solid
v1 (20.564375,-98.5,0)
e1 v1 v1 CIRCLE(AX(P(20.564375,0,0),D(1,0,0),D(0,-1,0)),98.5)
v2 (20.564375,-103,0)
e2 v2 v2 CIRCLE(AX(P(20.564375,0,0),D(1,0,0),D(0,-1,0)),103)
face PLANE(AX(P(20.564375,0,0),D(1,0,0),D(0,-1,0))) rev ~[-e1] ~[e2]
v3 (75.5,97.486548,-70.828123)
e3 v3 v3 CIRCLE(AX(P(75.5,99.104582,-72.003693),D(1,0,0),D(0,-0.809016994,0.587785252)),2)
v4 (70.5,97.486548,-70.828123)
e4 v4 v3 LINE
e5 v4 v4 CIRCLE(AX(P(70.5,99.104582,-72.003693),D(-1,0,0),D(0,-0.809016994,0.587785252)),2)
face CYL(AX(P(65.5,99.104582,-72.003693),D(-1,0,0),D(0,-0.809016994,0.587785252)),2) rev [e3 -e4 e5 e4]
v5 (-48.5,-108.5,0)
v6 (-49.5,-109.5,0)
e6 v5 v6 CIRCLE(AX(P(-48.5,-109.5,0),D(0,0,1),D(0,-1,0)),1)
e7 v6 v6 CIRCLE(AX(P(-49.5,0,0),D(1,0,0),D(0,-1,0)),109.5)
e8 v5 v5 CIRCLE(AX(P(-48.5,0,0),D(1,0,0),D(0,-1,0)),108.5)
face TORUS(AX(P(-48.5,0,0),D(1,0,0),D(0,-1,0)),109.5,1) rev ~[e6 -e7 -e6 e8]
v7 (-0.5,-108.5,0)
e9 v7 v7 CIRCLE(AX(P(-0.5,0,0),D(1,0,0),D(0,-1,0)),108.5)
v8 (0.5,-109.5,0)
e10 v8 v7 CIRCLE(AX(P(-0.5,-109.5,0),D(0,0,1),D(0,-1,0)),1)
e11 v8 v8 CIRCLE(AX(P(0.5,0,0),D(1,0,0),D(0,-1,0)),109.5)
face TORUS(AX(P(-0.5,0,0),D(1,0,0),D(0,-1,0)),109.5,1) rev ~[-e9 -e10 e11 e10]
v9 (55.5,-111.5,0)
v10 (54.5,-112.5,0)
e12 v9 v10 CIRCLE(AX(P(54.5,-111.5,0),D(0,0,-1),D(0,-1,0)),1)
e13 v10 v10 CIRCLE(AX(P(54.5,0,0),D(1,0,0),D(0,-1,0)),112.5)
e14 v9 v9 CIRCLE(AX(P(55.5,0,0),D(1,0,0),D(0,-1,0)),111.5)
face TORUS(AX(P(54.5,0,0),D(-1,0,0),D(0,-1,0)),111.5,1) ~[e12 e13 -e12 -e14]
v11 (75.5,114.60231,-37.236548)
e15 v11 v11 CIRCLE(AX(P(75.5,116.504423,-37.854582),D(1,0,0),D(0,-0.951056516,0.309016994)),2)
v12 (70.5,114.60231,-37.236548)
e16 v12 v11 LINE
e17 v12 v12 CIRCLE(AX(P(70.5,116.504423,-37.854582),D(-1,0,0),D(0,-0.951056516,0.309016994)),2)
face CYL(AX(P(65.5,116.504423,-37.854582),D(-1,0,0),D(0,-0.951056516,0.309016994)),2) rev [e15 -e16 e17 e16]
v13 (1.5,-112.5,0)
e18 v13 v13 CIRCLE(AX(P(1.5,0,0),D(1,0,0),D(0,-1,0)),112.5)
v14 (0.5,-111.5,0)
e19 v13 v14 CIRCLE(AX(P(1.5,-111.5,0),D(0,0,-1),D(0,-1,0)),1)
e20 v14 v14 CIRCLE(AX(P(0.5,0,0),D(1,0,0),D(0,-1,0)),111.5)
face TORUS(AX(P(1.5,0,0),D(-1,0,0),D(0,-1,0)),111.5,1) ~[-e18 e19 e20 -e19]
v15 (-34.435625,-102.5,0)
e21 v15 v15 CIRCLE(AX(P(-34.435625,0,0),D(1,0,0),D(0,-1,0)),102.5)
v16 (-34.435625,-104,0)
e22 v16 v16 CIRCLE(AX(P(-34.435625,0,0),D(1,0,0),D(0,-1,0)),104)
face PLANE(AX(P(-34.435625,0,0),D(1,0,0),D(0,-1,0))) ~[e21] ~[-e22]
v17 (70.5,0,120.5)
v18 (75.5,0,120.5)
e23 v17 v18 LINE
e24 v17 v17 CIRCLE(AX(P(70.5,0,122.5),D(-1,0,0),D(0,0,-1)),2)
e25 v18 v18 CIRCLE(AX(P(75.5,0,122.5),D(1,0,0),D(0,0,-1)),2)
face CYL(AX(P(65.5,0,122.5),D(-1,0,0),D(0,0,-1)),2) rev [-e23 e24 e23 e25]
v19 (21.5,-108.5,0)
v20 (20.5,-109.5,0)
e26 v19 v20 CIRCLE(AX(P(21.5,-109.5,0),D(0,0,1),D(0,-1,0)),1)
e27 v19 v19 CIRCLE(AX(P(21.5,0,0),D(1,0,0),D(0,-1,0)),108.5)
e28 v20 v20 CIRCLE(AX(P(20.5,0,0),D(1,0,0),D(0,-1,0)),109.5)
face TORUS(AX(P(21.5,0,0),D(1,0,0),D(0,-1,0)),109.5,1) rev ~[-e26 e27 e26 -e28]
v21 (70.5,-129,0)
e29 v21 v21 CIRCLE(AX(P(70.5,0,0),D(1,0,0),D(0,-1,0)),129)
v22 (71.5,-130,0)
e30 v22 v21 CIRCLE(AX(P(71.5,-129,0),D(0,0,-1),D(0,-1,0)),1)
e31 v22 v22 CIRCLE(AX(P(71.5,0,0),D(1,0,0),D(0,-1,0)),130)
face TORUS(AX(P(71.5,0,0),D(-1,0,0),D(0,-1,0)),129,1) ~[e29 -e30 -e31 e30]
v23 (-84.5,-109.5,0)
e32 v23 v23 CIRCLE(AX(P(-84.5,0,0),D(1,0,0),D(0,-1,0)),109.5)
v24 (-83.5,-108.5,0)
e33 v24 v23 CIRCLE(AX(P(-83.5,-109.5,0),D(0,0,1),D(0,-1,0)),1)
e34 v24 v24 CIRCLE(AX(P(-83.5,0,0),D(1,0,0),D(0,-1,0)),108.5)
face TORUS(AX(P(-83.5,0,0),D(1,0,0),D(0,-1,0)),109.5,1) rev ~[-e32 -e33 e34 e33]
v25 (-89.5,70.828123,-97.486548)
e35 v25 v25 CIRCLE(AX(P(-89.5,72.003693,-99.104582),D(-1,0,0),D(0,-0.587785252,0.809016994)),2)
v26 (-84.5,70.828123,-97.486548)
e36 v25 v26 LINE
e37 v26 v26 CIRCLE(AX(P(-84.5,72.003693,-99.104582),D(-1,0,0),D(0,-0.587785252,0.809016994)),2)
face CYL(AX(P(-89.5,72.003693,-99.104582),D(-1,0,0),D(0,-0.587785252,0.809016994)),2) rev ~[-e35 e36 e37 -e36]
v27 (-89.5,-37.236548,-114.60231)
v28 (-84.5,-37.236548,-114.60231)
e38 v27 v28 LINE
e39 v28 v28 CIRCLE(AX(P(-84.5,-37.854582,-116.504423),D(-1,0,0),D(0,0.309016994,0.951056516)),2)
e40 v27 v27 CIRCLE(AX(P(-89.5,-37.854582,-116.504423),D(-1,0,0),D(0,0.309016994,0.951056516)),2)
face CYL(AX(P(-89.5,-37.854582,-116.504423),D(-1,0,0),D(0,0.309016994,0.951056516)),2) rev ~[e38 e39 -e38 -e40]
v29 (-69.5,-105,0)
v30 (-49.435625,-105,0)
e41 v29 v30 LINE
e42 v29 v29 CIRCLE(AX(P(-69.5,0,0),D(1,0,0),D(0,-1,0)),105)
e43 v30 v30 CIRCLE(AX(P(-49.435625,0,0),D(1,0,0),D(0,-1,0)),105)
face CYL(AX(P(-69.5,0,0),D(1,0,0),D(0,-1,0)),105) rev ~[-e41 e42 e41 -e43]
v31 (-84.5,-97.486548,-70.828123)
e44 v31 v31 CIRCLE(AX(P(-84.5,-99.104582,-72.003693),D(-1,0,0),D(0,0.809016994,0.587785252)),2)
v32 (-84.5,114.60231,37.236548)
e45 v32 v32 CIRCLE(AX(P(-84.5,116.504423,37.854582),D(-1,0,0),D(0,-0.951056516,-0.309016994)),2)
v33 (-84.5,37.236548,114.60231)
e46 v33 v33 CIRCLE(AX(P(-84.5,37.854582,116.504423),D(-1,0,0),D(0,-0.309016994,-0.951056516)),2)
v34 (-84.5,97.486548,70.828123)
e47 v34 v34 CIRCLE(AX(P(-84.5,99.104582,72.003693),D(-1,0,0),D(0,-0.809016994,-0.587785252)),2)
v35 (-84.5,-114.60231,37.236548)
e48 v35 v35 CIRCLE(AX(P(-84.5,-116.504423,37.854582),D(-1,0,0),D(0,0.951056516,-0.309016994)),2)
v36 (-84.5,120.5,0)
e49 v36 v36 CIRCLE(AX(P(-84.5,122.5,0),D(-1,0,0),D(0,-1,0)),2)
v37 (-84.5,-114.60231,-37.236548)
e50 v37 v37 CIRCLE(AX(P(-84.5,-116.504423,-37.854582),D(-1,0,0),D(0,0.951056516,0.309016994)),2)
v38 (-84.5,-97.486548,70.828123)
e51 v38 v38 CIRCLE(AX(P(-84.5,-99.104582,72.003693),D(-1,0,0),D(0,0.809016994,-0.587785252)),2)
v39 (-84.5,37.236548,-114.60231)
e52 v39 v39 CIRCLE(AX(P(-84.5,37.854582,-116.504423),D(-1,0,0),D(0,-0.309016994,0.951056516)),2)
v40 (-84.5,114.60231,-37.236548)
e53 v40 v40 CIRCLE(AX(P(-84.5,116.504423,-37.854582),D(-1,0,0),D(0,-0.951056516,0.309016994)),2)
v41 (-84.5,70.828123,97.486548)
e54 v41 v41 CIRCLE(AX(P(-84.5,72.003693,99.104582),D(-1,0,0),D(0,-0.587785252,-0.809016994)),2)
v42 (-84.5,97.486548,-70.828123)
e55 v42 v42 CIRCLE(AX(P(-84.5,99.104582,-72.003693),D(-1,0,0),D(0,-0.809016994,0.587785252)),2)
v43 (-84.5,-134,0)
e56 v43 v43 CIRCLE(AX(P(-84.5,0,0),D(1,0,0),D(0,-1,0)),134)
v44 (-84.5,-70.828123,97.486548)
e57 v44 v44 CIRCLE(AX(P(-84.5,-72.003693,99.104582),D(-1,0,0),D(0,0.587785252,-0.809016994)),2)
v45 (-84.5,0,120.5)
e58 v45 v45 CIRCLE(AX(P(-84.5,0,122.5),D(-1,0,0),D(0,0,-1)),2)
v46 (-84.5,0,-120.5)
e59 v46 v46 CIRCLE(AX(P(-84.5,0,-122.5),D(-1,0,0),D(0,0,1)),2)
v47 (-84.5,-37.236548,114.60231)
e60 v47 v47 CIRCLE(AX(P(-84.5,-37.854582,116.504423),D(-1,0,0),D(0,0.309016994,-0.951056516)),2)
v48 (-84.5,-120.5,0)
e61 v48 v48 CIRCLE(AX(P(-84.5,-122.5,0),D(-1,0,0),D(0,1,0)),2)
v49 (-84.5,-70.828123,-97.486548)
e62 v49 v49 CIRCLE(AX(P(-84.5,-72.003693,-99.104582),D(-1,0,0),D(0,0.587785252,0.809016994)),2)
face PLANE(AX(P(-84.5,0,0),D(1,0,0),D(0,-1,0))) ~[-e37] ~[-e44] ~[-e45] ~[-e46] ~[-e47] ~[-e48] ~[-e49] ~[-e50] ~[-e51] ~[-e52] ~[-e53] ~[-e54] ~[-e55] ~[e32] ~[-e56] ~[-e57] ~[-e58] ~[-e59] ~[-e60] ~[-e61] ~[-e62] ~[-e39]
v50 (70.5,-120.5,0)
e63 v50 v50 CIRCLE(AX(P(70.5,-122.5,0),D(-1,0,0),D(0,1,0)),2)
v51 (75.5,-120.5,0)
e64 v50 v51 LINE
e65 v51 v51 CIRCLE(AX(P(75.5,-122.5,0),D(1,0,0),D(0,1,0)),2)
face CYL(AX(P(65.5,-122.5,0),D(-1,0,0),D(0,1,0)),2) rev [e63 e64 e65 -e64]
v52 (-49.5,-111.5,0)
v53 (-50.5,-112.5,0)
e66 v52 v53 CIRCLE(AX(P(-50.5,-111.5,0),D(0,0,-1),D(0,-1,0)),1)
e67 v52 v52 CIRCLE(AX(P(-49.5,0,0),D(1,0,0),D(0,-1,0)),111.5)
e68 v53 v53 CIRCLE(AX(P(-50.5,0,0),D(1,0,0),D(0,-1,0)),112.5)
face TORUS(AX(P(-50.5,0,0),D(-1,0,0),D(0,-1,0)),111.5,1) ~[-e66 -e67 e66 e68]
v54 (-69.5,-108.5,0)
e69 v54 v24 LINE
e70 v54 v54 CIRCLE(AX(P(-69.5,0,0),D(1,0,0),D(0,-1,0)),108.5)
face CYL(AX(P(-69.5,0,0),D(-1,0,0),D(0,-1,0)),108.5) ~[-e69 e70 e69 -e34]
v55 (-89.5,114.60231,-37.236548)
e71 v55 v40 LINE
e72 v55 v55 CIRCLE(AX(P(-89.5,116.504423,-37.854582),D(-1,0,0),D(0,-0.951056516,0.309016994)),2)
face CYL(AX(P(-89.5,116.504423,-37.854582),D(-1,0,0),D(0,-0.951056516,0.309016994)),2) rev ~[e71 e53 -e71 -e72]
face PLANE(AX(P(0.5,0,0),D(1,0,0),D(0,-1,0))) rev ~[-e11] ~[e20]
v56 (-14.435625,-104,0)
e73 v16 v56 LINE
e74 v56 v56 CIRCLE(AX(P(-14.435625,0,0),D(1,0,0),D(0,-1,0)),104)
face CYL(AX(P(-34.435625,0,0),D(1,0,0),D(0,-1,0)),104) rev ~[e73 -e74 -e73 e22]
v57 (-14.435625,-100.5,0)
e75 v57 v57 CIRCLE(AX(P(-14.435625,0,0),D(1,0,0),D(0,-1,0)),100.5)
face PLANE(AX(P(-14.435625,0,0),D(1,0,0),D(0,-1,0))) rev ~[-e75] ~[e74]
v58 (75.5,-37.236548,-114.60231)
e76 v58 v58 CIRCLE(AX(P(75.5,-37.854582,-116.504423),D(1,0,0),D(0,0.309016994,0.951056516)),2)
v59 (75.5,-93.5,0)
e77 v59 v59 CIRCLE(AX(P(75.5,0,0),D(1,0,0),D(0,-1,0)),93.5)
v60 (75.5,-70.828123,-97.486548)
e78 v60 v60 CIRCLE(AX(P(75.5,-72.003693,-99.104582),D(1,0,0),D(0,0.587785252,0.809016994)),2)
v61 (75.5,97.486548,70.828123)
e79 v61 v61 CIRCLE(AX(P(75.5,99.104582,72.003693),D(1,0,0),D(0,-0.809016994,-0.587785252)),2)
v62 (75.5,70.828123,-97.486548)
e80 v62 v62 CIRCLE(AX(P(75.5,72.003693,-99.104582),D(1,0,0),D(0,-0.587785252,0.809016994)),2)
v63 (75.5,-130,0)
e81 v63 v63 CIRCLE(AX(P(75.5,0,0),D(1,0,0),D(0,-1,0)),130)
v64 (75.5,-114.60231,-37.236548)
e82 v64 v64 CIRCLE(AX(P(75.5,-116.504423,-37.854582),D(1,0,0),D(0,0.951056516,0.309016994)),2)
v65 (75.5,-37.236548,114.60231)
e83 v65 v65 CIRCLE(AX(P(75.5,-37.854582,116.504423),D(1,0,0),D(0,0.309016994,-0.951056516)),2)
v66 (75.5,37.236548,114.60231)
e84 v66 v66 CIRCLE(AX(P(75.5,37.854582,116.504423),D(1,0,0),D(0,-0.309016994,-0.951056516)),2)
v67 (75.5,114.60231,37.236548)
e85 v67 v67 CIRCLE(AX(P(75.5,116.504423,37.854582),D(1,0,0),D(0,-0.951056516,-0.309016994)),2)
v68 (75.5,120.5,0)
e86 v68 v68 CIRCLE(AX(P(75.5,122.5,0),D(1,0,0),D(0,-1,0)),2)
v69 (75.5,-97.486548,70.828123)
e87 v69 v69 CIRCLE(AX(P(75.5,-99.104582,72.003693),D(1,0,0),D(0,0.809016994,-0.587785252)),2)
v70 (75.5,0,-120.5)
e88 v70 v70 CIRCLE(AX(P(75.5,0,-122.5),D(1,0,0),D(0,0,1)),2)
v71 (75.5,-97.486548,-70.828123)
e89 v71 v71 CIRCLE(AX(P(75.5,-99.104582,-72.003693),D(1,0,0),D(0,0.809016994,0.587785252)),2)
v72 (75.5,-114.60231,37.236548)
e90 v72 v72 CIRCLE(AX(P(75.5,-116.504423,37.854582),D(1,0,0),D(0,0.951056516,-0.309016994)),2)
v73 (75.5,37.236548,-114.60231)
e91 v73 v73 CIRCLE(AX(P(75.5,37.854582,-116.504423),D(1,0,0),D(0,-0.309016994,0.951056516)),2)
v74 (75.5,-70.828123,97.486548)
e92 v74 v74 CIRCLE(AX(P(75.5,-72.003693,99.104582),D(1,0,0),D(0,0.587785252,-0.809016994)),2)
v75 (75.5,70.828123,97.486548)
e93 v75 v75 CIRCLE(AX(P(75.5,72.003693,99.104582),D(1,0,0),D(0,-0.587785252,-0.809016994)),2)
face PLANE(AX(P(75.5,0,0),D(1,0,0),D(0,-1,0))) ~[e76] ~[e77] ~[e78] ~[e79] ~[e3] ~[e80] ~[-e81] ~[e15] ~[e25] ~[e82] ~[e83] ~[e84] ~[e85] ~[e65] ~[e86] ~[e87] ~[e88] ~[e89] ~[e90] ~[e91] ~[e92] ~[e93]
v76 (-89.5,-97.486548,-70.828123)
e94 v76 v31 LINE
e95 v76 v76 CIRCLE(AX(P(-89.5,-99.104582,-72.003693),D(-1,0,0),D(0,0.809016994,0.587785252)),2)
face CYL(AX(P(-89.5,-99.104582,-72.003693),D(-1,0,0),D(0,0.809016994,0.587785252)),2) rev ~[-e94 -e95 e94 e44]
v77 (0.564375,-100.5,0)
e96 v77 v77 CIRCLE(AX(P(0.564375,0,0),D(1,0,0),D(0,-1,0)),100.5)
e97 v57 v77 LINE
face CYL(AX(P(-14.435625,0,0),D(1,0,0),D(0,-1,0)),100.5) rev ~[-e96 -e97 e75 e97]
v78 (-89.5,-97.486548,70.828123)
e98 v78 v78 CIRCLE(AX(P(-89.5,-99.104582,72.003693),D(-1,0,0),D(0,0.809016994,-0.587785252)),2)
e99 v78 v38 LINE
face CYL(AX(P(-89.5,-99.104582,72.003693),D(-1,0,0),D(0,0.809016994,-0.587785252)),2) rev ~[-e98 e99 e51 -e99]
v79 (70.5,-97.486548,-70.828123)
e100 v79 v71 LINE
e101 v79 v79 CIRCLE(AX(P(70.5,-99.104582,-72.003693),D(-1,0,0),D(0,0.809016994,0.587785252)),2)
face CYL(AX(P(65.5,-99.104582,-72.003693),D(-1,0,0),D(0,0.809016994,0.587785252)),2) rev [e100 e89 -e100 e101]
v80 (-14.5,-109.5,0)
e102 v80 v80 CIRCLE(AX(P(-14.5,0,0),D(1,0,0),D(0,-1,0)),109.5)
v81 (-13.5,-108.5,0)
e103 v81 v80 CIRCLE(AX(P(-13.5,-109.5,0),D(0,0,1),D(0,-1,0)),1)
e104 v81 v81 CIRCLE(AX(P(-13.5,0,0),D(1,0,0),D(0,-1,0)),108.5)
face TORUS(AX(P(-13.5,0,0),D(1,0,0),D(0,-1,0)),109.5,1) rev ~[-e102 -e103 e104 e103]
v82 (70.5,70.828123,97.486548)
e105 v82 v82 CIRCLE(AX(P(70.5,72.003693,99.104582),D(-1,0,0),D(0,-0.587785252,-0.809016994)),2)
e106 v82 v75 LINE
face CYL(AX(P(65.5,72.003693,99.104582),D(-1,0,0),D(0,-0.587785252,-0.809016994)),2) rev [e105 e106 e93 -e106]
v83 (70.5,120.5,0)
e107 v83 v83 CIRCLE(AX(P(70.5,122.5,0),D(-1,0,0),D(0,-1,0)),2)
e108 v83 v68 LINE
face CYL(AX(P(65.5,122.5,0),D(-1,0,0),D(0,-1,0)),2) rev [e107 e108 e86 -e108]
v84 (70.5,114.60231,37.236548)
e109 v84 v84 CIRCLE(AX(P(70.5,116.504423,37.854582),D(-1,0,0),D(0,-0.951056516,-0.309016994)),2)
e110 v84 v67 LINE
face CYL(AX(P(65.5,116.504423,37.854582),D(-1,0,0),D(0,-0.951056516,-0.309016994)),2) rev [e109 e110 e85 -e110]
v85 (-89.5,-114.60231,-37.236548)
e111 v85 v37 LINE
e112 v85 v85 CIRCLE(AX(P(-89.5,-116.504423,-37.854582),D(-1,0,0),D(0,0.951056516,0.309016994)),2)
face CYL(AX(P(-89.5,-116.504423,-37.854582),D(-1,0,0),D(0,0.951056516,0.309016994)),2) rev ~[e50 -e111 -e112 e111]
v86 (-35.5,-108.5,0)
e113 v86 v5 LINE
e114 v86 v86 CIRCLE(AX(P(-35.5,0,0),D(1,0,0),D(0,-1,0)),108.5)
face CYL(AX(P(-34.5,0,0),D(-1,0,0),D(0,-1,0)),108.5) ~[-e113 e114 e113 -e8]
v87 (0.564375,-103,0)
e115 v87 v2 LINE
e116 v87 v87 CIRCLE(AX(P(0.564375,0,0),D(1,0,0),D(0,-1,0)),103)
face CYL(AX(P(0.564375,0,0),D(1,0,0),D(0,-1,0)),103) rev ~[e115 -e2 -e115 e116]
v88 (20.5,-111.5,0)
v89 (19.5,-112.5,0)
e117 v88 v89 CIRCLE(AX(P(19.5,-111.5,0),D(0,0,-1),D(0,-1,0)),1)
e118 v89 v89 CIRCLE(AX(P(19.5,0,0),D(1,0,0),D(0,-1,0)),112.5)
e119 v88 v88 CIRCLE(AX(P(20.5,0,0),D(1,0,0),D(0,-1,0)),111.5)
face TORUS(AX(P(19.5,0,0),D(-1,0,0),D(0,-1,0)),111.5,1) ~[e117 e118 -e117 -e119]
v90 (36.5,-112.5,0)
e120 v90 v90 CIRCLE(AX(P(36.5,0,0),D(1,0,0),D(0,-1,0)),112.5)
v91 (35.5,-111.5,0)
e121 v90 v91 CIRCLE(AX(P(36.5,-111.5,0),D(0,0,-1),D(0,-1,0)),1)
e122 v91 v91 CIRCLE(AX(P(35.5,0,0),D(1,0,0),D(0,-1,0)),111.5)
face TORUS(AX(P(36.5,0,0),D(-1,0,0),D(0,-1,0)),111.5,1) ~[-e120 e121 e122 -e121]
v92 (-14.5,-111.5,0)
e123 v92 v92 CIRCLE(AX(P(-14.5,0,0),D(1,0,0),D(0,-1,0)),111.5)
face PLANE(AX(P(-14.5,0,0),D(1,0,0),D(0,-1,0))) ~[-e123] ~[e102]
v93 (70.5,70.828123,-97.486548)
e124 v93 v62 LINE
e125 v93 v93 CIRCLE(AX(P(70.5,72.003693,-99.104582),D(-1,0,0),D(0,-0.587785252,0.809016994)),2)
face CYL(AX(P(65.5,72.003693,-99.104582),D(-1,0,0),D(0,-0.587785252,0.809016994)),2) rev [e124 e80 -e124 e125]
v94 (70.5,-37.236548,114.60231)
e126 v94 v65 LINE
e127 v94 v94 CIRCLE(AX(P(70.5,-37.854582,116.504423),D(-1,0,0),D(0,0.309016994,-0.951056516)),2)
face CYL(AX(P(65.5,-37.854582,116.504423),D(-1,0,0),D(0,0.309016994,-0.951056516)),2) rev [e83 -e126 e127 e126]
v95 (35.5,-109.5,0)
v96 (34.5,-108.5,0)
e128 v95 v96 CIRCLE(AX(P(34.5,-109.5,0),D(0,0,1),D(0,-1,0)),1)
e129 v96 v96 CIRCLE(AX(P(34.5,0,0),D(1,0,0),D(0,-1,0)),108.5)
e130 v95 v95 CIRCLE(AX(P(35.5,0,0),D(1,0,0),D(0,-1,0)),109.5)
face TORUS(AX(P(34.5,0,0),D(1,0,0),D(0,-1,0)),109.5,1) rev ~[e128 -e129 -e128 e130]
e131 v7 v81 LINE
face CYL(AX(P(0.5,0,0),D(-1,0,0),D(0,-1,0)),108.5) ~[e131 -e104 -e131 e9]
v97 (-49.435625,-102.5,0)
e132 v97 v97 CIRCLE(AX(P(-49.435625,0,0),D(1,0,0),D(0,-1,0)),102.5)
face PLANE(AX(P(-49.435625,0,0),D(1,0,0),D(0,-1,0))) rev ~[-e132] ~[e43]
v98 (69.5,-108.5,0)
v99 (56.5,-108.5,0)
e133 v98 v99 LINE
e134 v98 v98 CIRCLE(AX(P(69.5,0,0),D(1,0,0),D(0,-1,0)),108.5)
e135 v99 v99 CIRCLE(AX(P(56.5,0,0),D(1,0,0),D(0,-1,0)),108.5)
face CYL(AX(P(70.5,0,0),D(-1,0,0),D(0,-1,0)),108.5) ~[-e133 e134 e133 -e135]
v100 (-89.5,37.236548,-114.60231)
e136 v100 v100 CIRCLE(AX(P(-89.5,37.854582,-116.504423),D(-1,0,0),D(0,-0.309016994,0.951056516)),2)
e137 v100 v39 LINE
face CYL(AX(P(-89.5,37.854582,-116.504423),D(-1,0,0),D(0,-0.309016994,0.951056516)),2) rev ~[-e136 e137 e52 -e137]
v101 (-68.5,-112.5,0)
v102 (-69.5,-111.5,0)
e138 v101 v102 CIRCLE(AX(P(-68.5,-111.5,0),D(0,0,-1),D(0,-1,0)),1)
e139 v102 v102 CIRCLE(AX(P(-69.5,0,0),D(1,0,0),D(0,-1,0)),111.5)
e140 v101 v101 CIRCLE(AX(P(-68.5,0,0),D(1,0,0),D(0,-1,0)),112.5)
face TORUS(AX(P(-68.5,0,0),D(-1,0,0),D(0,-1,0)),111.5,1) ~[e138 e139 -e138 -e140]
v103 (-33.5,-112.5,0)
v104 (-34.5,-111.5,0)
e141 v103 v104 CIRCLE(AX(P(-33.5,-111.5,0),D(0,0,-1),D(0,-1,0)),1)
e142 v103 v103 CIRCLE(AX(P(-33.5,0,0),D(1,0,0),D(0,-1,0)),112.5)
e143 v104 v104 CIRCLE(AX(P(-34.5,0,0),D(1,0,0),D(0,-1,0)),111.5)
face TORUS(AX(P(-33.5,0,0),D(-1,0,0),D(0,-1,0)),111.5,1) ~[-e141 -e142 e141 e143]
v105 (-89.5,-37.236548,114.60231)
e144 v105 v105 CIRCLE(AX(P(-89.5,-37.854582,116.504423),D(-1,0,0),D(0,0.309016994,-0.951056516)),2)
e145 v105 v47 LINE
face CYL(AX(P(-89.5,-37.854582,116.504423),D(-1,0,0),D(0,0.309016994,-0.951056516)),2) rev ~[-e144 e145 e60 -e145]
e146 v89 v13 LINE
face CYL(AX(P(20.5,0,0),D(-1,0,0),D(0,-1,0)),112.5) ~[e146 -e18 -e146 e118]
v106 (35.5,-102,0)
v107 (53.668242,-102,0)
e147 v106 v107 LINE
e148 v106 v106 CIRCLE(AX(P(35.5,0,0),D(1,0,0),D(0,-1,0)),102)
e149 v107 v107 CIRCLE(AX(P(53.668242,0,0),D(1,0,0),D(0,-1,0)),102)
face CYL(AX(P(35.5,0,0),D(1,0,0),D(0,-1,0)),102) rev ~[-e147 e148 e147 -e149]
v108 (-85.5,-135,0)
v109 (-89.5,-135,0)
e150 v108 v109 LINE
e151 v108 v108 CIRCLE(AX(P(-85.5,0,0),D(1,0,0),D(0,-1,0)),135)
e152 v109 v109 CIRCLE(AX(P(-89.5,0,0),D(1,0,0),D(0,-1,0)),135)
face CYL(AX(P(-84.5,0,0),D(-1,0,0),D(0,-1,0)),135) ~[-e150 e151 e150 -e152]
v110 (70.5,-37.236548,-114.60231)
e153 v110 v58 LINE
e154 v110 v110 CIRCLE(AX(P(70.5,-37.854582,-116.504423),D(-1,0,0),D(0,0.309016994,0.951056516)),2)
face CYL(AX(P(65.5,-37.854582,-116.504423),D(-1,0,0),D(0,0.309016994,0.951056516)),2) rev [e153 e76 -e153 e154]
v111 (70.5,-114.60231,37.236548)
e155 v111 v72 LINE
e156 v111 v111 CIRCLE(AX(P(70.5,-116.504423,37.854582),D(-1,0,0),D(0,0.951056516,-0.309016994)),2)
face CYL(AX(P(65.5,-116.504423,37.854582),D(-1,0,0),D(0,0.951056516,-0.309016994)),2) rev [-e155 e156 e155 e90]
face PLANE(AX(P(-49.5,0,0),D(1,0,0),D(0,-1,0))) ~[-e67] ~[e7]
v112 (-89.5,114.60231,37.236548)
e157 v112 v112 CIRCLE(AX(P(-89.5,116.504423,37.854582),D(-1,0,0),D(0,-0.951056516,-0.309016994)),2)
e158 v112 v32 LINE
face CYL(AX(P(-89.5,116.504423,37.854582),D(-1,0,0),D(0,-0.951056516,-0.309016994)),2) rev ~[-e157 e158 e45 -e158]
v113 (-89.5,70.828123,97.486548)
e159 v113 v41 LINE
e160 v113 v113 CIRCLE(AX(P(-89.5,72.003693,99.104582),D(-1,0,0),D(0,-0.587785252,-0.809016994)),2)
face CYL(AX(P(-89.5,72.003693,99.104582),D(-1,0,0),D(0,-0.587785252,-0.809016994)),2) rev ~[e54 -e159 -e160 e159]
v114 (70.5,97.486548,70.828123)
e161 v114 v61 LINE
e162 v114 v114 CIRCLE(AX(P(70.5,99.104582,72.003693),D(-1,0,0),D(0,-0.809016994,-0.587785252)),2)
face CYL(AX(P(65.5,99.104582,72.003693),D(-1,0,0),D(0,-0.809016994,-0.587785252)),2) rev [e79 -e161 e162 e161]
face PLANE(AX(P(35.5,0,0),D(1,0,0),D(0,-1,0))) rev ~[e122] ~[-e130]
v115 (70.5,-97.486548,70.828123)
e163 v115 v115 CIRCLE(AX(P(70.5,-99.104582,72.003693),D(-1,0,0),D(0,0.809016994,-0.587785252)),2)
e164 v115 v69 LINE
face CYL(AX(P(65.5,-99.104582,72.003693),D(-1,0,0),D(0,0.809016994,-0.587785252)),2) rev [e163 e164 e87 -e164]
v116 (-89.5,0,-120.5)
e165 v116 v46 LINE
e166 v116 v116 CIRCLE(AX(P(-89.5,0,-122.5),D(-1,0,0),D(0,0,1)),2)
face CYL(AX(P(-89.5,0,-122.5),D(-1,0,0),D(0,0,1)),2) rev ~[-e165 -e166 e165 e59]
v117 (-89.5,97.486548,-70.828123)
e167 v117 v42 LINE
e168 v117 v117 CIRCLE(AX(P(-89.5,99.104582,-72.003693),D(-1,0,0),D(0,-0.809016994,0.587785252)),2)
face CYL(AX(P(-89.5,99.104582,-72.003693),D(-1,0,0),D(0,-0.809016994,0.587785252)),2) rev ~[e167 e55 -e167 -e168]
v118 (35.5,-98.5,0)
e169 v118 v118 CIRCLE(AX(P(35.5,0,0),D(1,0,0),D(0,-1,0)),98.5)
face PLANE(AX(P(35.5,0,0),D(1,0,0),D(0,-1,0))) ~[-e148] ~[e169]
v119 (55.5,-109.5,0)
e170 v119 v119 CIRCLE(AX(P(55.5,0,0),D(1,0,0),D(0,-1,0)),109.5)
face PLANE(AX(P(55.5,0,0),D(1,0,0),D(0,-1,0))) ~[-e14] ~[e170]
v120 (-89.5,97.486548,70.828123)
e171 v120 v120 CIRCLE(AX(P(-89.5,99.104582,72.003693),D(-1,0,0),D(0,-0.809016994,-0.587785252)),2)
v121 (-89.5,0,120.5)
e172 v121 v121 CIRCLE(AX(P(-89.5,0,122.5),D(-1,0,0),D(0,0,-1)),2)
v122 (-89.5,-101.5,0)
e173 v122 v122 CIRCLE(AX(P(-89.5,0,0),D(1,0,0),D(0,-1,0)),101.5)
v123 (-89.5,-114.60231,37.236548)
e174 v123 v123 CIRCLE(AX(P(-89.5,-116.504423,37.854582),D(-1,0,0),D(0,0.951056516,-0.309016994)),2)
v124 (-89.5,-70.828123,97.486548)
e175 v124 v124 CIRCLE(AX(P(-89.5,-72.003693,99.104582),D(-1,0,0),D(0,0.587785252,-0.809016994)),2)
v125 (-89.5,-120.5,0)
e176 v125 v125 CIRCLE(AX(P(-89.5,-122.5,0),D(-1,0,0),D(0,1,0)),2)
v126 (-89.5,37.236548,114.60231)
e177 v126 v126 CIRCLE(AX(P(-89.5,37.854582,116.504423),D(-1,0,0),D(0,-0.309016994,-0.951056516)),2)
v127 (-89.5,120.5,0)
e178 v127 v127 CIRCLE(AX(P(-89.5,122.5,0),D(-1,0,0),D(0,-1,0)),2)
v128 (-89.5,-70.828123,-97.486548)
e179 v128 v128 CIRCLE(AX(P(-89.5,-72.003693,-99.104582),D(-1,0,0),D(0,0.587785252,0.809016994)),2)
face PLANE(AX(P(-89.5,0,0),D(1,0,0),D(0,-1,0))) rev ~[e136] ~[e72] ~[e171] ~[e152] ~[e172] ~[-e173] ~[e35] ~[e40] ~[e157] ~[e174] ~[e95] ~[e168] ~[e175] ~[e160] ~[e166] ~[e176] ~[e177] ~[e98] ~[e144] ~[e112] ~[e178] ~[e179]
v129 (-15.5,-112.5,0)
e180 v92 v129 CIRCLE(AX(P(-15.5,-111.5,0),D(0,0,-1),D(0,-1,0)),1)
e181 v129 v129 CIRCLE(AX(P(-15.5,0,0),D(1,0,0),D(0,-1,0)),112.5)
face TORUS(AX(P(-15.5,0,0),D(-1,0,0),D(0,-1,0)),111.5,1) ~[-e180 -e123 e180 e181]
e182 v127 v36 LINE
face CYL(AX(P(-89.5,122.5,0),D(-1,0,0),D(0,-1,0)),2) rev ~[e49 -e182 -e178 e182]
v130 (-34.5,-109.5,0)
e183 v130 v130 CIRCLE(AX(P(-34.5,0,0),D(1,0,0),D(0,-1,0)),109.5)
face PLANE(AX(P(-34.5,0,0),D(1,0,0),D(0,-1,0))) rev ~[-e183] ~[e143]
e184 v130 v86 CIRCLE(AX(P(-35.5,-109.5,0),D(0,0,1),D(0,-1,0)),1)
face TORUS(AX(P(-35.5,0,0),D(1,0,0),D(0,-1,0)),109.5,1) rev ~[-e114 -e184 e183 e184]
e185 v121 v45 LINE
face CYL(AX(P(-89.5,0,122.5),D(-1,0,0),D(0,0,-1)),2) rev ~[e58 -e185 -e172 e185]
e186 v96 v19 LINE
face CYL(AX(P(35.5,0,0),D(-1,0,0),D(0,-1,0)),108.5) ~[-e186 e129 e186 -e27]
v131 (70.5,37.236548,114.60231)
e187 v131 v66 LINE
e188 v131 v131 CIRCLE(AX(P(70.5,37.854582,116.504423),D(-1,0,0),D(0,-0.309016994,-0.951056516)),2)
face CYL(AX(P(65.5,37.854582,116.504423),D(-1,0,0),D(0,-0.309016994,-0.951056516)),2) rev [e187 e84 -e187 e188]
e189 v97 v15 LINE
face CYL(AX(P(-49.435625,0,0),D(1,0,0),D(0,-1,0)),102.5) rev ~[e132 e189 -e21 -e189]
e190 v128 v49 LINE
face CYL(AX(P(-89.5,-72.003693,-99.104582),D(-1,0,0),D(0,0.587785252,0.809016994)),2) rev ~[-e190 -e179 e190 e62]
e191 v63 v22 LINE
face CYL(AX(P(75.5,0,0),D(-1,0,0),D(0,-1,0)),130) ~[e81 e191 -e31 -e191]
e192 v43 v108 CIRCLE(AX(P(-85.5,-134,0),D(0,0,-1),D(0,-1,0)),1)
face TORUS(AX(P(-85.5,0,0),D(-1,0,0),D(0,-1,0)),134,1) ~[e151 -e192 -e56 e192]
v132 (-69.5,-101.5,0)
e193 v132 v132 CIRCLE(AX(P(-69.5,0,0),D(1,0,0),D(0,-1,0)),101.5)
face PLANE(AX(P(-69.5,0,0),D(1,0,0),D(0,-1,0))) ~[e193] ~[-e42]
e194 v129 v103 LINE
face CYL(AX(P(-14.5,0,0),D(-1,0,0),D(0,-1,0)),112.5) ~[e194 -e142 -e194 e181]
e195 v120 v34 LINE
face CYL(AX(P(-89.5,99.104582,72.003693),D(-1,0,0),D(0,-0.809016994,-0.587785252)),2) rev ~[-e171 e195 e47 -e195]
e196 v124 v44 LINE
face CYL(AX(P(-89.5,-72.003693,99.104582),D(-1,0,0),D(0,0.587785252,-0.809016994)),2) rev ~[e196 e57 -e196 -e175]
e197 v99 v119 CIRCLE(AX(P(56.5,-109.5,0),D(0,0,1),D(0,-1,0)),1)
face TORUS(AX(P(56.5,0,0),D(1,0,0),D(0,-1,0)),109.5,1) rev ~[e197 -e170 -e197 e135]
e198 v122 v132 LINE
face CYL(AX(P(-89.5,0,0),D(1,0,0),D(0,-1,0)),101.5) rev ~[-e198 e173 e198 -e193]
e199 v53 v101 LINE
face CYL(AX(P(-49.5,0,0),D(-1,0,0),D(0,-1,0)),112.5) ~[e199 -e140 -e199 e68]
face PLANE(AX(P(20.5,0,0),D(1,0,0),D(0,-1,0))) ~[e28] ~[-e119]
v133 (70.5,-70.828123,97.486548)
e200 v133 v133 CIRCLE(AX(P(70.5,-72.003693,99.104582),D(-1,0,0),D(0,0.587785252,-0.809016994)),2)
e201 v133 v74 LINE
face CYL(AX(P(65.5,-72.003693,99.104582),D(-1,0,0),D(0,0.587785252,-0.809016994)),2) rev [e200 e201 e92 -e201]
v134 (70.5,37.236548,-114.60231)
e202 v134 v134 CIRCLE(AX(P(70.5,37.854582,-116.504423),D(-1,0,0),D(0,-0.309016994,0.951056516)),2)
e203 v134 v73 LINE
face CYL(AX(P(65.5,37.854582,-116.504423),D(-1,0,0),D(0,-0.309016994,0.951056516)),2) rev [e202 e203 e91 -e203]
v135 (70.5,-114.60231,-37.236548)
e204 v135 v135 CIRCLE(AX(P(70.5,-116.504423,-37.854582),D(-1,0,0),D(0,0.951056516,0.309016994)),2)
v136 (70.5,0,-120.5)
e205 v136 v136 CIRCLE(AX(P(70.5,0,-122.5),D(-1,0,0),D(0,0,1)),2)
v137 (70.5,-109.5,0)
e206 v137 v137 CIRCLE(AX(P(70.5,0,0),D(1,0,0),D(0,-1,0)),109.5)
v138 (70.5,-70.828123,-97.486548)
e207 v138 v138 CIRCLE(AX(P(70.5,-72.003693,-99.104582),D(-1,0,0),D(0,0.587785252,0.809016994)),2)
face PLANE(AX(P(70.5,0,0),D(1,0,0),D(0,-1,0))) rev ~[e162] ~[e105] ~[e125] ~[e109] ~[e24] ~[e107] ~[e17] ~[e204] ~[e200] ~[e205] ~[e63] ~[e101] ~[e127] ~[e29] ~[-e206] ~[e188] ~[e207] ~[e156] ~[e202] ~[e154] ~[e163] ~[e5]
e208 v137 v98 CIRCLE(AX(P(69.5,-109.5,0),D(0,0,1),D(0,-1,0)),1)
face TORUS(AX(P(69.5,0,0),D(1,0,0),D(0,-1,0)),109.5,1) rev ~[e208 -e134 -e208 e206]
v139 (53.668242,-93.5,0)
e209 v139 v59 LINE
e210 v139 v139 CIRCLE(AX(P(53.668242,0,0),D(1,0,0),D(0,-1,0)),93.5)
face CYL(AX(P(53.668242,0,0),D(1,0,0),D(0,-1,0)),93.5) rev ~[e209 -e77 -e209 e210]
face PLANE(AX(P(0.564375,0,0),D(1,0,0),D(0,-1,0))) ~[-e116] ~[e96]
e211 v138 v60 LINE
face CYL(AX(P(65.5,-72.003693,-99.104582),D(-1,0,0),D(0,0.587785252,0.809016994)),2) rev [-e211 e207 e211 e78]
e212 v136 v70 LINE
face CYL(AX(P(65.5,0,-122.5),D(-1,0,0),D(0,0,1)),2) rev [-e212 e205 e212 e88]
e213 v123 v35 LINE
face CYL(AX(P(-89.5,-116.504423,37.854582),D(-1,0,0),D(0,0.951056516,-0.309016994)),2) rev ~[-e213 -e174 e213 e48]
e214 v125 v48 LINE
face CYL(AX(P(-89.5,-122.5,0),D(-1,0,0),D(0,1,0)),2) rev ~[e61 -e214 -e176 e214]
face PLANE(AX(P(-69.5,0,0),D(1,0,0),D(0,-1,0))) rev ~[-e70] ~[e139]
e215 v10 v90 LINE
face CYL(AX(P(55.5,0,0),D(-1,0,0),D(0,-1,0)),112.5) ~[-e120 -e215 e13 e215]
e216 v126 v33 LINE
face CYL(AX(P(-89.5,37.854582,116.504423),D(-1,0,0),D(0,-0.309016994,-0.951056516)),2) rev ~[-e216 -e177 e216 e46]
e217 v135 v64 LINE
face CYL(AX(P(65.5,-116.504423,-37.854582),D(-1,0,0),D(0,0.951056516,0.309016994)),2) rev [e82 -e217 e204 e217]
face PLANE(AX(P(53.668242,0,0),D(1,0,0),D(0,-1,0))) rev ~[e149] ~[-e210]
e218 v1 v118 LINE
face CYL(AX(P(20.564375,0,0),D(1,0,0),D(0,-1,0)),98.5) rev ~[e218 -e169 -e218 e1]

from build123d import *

# Parameters (mm, degrees)
SKETCH2_R          = 2
CUT_EXTRUDE1_DEPTH = 10
CUT_EXTRUDE2_START = -10
SKETCH3_R          = 2
CUT_EXTRUDE2_DEPTH = 10
CIRPATTERN1_COUNT  = 20
FILLET1_R          = 1


with BuildPart() as part:
    # Sketch1 → Revolve1 (revolve)
    with BuildSketch(Plane.XY, mode=Mode.PRIVATE) as revolve1_sk:
        Polygon((75.5, 130), (70.5, 130), (70.5, 108.5), (55.5, 108.5), (55.5, 112.5), (35.5, 112.5), (35.5, 108.5), (20.5, 108.5), (20.5, 112.5), (0.5, 112.5), (0.5, 108.5), (-14.5, 108.5), (-14.5, 112.5), (-34.5, 112.5), (-34.5, 108.5), (-49.5, 108.5), (-49.5, 112.5), (-69.5, 112.5), (-69.5, 108.5), (-84.5, 108.5), (-84.5, 135), (-89.5, 135), (-89.5, 101.5), (-69.5, 101.5), (-69.5, 105), (-49.435625128, 105), (-49.435625128, 102.5), (-34.435625128, 102.5), (-34.435625128, 104), (-14.435625128, 104), (-14.435625128, 100.5), (0.564374872, 100.5), (0.564374872, 103), (20.564374872, 103), (20.564374872, 98.5), (35.5, 98.5), (35.5, 102), (53.668241863, 102), (53.668241863, 93.5), (75.5, 93.5), align=None)
    revolve(revolve1_sk.sketch.rotate(Axis((-34.090909091, 0, 0), (1, 0, 0)), 180), axis=Axis((-34.090909091, 0, 0), (1, 0, 0)))

    # Sketch2 → Cut-Extrude1 (cut)
    with BuildSketch(Plane.ZY.offset(89.5)):
        with Locations(Location((0, 122.5, 0), (0, 0, 270))):
            Circle(SKETCH2_R)
    cut_extrude1 = extrude(amount=-CUT_EXTRUDE1_DEPTH, mode=Mode.SUBTRACT)

    # Sketch3 → Cut-Extrude2 (cut)
    with BuildSketch(Plane(origin=(75.5, 0, 0), x_dir=(0, 0, -1), z_dir=(1, 0, 0)).offset(CUT_EXTRUDE2_START)):
        with Locations(Location((0, 122.5, 0), (0, 0, 270))):
            Circle(SKETCH3_R)
    cut_extrude2 = extrude(amount=CUT_EXTRUDE2_DEPTH, mode=Mode.SUBTRACT)

    # CirPattern1: Cut-Extrude1, Cut-Extrude2 ×20 about axis
    cirpattern1_axis = Axis((0, 0, 0), (1, 0, 0))
    add([cut_extrude1.rotate(cirpattern1_axis, i * 360 / CIRPATTERN1_COUNT) for i in range(1, CIRPATTERN1_COUNT)], mode=Mode.SUBTRACT)
    add([cut_extrude2.rotate(cirpattern1_axis, i * 360 / CIRPATTERN1_COUNT) for i in range(1, CIRPATTERN1_COUNT)], mode=Mode.SUBTRACT)

    # Fillet1
    fillet1_edges = [part.edges().sort_by_distance(p)[0] for p in [
        (-84.5, 135, 0),
        (-84.5, 108.5, 0),
        (-69.5, 112.5, 0),
        (-49.5, 112.5, 0),
        (-49.5, 108.5, 0),
        (-34.5, 108.5, 0),
        (-34.5, 112.5, 0),
        (-14.5, 112.5, 0),
        (-14.5, 108.5, 0),
        (0.5, 108.5, 0),
        (0.5, 112.5, 0),
        (20.5, 112.5, 0),
        (20.5, 108.5, 0),
        (35.5, 108.5, 0),
        (35.5, 112.5, 0),
        (55.5, 112.5, 0),
        (55.5, 108.5, 0),
        (70.5, 108.5, 0),
        (70.5, 130, 0),
    ]]
    fillet(fillet1_edges, radius=FILLET1_R)


solid = part.part
